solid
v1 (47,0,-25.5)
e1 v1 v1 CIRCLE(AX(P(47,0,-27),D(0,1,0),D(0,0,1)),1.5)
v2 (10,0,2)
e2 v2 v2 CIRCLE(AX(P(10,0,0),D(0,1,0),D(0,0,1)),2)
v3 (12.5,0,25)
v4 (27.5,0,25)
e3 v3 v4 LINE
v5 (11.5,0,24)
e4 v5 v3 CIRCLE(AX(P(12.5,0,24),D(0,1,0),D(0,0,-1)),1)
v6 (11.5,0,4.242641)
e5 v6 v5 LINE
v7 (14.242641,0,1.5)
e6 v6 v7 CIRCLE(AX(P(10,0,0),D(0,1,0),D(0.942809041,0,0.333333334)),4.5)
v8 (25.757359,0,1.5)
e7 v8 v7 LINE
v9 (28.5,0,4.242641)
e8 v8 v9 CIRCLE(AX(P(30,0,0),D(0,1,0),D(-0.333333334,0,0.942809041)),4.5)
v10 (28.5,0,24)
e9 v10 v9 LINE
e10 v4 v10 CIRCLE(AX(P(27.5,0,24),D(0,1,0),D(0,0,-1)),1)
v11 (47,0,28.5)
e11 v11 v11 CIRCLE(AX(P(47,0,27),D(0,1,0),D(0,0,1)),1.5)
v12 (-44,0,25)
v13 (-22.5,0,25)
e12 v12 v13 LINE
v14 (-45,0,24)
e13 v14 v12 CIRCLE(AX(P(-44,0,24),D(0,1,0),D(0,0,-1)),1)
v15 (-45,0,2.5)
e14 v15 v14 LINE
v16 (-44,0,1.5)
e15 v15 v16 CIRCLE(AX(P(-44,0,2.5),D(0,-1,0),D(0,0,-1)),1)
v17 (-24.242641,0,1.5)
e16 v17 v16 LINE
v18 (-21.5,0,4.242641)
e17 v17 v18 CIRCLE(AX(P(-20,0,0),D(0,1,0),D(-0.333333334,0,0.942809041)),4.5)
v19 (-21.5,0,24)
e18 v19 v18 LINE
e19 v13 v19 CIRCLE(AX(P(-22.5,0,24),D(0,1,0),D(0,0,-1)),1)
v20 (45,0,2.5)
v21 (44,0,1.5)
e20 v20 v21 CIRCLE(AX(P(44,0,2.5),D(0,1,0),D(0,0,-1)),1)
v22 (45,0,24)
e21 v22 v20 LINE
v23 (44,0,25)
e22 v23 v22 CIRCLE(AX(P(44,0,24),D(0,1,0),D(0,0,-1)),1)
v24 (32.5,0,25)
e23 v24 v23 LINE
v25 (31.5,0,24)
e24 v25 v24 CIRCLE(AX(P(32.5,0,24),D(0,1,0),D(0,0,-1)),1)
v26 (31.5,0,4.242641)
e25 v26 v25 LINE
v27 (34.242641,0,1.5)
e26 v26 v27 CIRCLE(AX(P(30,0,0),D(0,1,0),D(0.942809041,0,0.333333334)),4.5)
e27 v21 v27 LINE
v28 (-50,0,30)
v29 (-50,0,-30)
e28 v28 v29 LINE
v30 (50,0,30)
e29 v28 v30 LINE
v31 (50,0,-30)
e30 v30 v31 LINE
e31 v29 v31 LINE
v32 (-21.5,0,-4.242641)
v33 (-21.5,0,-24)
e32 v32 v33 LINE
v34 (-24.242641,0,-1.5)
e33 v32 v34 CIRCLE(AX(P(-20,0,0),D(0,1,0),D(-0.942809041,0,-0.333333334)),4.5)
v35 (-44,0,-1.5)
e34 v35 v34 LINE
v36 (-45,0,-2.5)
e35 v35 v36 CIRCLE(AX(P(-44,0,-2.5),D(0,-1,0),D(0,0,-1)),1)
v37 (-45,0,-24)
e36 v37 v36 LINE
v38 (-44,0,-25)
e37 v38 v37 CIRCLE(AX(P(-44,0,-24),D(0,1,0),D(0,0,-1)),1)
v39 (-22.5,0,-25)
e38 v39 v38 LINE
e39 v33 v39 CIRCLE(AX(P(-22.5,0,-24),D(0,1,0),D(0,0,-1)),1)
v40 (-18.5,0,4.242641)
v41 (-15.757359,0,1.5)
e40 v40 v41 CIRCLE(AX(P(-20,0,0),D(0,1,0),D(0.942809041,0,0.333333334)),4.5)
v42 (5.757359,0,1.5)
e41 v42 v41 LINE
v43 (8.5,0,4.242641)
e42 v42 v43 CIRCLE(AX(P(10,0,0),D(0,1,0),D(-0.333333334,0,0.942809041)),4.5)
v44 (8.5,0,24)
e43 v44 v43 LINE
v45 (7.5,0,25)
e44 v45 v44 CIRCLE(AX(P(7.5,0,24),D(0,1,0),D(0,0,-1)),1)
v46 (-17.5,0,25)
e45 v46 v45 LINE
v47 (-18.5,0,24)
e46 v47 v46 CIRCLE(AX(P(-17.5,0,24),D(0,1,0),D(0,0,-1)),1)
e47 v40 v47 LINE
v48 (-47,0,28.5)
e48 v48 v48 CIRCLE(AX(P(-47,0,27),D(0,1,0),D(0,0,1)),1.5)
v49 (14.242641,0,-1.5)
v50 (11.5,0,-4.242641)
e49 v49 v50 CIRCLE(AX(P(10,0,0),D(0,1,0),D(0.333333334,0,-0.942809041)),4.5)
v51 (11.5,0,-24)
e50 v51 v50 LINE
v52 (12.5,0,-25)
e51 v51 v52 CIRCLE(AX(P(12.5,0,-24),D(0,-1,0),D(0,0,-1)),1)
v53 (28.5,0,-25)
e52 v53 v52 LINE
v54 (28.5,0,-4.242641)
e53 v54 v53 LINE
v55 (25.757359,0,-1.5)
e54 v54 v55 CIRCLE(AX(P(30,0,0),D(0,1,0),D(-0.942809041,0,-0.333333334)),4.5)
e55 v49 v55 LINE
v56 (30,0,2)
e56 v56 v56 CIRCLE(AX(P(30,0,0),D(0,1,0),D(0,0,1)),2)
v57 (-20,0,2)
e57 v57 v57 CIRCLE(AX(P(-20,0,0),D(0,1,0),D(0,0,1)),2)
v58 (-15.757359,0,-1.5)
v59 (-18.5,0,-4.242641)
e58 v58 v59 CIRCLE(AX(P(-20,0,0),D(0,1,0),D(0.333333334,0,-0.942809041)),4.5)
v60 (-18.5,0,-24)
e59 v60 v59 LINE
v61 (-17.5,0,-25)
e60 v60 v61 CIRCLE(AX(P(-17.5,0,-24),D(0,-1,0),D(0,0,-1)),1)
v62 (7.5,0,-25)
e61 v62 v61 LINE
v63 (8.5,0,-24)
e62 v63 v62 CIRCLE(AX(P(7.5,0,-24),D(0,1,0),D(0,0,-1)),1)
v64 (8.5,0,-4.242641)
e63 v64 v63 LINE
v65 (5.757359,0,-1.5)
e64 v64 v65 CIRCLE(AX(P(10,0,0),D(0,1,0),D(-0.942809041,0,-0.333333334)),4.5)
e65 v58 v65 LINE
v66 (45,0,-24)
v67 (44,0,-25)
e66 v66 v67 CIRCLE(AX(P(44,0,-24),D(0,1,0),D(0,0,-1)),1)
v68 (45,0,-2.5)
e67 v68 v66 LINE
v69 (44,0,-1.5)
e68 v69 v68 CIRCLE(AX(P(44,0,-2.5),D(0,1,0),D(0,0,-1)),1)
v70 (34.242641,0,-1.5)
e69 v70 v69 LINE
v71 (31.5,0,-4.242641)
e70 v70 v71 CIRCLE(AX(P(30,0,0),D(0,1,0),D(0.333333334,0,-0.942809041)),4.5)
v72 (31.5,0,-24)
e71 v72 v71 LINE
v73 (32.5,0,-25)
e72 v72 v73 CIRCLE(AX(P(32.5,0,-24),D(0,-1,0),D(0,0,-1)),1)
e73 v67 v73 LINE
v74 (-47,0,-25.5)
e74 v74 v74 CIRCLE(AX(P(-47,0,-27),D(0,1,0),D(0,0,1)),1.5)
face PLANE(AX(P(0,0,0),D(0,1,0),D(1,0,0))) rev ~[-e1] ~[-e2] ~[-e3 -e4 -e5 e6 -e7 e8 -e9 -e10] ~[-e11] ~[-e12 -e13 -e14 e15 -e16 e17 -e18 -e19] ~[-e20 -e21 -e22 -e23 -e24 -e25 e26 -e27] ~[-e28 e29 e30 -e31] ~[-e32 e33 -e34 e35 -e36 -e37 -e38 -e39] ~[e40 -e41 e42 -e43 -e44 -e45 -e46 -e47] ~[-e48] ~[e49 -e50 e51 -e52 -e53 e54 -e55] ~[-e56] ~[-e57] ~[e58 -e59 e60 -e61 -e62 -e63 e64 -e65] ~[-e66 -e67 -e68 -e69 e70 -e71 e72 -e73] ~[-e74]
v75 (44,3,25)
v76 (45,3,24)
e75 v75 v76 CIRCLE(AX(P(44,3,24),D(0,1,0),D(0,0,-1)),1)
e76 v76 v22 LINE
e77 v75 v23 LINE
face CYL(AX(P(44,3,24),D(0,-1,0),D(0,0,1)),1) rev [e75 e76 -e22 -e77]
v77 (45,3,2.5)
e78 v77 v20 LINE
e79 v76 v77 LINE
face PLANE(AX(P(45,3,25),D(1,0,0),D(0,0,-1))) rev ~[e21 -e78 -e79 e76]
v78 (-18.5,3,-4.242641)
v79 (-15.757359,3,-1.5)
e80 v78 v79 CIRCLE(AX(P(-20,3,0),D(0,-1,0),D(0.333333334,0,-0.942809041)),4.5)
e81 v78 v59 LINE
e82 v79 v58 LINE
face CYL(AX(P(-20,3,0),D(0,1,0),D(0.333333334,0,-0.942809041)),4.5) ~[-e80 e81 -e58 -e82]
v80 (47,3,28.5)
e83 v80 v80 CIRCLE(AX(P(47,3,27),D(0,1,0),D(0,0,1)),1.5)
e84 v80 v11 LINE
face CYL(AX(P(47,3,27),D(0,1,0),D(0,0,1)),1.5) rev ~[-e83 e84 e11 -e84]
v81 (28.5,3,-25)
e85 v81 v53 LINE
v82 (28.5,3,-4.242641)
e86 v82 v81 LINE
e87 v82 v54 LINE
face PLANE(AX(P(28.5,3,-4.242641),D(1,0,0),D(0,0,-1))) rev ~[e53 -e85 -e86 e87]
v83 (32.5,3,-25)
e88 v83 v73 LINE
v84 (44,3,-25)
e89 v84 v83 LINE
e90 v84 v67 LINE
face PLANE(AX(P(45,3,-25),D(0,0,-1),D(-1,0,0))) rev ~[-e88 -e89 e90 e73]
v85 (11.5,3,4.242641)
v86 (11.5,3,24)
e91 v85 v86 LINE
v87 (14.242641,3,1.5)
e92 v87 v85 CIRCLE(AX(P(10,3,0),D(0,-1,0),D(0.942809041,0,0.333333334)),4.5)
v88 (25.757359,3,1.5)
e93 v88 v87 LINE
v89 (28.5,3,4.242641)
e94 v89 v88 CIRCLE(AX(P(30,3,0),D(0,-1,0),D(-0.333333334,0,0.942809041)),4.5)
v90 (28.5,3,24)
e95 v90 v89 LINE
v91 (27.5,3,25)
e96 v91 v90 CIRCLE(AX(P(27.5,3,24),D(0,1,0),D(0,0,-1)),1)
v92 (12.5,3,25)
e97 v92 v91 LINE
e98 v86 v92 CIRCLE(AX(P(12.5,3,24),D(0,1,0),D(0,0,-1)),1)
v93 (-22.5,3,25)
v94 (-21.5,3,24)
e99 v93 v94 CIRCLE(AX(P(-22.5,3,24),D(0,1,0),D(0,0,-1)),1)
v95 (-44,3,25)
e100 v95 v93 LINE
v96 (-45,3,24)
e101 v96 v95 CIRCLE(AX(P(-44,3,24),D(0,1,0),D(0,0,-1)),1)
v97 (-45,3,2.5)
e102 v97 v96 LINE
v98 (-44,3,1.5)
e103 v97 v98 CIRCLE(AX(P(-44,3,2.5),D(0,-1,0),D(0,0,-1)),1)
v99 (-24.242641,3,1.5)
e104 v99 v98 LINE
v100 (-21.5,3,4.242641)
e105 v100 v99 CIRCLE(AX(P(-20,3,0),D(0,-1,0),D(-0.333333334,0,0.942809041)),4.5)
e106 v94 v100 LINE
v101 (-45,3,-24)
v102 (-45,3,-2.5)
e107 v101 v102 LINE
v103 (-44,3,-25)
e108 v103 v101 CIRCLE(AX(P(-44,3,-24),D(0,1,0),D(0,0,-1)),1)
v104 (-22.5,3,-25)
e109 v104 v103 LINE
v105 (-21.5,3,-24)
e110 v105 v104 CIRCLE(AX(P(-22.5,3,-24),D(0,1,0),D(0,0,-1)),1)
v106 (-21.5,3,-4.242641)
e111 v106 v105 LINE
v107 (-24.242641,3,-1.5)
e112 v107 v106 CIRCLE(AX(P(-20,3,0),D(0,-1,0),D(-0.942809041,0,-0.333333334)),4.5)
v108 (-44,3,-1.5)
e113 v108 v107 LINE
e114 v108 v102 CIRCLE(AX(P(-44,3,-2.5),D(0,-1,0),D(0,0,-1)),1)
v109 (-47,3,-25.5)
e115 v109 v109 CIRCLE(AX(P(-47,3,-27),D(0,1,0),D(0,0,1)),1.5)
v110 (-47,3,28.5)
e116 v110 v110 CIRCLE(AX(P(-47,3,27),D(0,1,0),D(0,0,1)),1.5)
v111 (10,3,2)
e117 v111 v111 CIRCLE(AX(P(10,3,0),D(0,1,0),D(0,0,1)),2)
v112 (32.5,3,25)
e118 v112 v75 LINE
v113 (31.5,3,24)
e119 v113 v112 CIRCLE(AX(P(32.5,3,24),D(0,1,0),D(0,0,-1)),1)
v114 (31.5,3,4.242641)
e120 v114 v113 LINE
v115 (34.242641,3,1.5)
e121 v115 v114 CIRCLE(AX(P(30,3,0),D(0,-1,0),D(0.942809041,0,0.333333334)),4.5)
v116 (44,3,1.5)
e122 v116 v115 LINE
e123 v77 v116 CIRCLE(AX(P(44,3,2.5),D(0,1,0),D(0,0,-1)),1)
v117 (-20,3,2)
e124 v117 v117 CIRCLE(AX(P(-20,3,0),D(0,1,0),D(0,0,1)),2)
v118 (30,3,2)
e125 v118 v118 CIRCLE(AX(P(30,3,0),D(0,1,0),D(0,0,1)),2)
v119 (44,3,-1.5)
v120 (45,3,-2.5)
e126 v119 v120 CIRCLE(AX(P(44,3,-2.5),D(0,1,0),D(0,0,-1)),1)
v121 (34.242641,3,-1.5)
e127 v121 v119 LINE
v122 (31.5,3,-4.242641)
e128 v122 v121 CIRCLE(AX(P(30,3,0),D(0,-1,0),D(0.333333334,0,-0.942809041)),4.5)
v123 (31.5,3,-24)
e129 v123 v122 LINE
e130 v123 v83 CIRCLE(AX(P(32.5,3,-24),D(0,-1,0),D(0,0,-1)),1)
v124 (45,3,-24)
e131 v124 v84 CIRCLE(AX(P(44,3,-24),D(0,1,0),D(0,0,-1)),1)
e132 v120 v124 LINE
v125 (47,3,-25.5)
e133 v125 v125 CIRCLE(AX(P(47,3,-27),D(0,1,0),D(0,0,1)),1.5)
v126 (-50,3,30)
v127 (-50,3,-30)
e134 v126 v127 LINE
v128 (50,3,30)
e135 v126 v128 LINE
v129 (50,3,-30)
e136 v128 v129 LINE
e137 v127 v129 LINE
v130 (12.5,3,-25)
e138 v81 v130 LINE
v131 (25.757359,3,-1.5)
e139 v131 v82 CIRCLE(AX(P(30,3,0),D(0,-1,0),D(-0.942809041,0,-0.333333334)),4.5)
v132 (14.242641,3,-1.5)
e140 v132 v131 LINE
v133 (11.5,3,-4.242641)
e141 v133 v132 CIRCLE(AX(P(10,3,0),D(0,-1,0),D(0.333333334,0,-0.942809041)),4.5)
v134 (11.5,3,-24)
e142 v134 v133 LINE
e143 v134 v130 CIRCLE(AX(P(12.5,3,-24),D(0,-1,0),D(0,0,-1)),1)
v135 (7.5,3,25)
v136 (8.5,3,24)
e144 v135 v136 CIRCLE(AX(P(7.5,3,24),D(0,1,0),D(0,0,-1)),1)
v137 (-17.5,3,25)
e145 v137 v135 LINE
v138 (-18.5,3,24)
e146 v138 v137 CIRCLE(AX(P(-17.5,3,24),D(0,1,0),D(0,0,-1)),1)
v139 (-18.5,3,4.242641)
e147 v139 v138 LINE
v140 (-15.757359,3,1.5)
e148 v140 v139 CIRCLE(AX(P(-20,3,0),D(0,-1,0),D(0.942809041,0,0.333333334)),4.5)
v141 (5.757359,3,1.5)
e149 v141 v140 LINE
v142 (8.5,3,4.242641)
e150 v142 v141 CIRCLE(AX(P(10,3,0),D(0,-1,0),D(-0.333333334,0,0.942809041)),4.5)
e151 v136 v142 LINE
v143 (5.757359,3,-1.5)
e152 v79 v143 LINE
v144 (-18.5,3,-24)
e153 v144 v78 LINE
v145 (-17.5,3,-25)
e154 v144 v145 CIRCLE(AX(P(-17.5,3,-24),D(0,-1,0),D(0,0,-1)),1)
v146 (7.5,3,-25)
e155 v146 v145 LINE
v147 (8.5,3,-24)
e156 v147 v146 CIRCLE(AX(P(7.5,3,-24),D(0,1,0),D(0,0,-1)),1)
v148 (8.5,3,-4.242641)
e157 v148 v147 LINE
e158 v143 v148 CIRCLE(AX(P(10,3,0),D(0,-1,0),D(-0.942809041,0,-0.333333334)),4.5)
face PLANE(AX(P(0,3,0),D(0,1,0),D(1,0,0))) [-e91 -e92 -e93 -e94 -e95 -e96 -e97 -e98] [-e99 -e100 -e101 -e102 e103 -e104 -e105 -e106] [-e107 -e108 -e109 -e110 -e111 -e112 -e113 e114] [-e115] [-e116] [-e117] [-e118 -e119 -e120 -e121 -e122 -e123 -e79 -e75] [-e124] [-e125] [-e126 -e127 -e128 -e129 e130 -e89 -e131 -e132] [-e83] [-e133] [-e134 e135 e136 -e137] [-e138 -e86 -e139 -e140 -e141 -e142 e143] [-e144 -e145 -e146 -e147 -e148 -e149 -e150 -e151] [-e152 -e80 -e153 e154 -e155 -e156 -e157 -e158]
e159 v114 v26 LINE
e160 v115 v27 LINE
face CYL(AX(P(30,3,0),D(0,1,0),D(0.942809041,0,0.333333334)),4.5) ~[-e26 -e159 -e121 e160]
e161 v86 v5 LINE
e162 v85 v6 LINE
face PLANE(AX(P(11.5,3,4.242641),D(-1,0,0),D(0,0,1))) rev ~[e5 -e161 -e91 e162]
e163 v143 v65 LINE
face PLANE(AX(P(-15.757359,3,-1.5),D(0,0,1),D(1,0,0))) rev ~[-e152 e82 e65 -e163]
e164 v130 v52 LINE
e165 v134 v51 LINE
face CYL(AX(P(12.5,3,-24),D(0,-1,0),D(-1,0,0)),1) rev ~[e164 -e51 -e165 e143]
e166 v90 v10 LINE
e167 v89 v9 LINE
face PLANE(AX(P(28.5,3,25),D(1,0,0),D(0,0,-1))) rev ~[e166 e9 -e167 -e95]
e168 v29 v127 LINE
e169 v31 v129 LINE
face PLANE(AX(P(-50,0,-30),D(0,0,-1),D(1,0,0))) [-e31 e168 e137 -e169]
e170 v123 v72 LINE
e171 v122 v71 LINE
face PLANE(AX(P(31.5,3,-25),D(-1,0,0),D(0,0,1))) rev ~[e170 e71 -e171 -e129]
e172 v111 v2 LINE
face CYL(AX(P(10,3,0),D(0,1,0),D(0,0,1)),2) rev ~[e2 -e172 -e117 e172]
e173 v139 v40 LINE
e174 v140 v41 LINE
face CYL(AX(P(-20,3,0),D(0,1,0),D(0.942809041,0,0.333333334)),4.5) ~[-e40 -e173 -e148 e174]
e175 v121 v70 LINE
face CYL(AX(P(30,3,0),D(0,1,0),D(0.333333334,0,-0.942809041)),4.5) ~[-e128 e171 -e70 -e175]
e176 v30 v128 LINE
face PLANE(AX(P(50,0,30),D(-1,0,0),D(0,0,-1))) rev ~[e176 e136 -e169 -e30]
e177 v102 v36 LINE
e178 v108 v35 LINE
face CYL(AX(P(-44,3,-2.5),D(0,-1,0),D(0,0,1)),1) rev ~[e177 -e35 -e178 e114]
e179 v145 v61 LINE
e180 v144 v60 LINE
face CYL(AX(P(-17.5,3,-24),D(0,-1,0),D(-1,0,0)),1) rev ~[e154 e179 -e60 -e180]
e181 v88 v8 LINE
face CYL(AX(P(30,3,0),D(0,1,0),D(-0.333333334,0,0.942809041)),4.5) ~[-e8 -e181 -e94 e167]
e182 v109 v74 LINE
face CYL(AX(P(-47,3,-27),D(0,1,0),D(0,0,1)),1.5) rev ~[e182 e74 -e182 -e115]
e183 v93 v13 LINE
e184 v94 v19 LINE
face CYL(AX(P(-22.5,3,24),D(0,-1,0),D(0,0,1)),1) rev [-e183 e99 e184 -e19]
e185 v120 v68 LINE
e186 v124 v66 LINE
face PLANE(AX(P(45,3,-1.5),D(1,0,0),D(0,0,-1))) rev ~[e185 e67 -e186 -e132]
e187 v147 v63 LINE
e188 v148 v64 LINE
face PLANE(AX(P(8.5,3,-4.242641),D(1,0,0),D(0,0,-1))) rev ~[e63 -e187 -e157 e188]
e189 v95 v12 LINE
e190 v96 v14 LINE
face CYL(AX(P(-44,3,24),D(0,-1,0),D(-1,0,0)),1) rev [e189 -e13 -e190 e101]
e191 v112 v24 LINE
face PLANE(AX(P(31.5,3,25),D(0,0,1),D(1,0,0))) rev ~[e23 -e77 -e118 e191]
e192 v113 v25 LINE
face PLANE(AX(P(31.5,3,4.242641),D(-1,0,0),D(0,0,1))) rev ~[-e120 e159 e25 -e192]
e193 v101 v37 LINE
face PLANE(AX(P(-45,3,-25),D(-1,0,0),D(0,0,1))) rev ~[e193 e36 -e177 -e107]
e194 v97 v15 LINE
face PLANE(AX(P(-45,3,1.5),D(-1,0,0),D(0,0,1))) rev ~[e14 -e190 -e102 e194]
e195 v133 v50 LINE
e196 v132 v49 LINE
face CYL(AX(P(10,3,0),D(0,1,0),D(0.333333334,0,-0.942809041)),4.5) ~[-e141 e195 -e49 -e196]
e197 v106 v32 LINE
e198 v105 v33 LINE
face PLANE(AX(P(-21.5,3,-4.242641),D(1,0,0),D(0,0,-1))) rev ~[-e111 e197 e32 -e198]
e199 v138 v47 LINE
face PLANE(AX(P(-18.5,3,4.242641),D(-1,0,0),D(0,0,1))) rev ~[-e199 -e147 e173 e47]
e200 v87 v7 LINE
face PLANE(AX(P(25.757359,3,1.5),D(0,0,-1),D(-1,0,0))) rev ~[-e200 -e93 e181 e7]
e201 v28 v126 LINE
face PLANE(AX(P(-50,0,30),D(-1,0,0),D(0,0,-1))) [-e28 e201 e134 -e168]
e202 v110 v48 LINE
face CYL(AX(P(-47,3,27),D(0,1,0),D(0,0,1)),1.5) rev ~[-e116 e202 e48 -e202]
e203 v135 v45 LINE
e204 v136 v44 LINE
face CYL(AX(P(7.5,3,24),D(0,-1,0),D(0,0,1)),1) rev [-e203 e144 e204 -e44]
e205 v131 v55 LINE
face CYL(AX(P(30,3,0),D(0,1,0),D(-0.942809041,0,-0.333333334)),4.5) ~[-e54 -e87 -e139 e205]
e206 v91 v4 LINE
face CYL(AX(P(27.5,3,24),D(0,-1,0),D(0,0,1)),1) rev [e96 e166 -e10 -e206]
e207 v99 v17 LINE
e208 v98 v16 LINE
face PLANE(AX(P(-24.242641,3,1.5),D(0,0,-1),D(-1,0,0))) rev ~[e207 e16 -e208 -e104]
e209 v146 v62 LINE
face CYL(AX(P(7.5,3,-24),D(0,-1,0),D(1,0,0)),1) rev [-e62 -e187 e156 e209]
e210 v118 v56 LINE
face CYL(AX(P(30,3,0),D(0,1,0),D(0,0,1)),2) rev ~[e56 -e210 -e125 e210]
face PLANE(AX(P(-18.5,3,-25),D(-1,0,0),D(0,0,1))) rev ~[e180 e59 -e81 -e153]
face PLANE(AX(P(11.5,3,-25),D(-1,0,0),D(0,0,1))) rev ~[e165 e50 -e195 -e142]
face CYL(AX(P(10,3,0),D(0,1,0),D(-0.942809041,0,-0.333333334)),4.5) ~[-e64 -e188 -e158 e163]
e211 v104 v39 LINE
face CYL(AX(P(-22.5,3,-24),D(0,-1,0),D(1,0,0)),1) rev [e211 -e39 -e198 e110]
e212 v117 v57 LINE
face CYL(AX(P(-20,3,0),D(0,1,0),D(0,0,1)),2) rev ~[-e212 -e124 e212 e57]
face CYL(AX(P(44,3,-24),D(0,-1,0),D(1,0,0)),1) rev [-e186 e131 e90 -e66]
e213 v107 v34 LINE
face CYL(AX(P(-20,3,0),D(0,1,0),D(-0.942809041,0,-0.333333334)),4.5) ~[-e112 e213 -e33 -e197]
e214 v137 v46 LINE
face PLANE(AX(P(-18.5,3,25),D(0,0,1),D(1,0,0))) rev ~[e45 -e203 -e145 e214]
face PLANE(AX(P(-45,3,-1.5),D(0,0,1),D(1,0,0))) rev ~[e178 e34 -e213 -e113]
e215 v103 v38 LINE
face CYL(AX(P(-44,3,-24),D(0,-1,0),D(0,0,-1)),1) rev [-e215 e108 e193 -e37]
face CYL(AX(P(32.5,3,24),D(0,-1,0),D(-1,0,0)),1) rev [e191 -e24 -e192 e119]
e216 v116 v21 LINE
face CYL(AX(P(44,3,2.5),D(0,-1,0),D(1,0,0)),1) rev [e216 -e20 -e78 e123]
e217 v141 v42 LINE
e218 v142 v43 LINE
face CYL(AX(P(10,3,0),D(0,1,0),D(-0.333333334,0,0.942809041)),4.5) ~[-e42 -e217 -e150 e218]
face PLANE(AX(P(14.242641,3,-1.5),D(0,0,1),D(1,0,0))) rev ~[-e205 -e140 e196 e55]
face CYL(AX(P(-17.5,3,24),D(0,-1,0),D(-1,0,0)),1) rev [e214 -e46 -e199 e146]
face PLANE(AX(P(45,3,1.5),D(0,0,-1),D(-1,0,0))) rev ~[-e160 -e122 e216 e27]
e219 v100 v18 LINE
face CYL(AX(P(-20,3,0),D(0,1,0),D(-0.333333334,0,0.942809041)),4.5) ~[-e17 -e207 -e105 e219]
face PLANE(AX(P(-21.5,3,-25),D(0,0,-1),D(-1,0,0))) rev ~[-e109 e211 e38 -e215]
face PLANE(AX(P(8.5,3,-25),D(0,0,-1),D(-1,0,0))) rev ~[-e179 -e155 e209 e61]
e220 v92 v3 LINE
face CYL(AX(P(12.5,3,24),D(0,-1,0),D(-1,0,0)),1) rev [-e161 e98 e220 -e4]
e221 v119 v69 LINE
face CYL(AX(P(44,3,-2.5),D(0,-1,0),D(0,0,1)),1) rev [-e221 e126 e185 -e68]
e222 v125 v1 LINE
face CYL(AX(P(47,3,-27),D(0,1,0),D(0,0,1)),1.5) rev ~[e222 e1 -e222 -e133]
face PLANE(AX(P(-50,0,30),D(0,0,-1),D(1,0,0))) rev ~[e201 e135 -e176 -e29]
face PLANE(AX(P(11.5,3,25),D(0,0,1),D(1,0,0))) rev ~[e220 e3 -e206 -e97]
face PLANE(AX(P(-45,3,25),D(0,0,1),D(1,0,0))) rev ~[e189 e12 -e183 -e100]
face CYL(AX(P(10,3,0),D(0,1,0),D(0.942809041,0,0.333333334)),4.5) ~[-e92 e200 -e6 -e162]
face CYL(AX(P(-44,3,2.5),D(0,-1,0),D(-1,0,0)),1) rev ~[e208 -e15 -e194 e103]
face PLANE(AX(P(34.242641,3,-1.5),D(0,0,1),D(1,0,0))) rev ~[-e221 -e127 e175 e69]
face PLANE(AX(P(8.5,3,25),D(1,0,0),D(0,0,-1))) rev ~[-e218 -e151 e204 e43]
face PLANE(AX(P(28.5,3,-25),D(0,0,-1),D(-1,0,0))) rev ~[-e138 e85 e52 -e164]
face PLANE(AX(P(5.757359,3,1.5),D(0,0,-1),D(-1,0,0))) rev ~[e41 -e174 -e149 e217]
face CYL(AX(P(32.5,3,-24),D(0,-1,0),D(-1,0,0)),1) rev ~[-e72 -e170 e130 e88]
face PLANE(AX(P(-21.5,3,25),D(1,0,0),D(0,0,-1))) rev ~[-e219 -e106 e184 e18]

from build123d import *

# Parameters (mm, degrees)
SKETCH1_W           = 100
SKETCH1_H           = 60
BOSS_EXTRUDE1_DEPTH = 3
SKETCH2_R           = 2
SKETCH2_R_2         = 1.5
CUT_EXTRUDE1_DEPTH  = 59.386642308
FILLET1_R           = 1


with BuildPart() as part:
    # Sketch1 → Boss-Extrude1 (new body)
    with BuildSketch(Plane(origin=(0, 0, 0), x_dir=(1, 0, 0), z_dir=(0, 1, 0))):
        Rectangle(SKETCH1_W, SKETCH1_H)
    extrude(amount=BOSS_EXTRUDE1_DEPTH)

    # Sketch2 → Cut-Extrude1 (cut, through all)
    with BuildSketch(Plane(origin=(0, 3, 0), x_dir=(1, 0, 0), z_dir=(0, 1, 0))):
        with BuildLine():
            Line((-45, 1.5), (-24.242640687, 1.5))
            ThreePointArc((-24.242640687, 1.5), (-23.181980515, 3.181980515), (-21.5, 4.242640687))
            Line((-21.5, 4.242640687), (-21.5, 25))
            Line((-21.5, 25), (-45, 25))
            Line((-45, 25), (-45, 1.5))
        make_face()
        with BuildLine():
            Line((-45, -1.5), (-45, -25))
            Line((-45, -25), (-21.5, -25))
            Line((-21.5, -25), (-21.5, -4.242640687))
            ThreePointArc((-21.5, -4.242640687), (-23.181980515, -3.181980515), (-24.242640687, -1.5))
            Line((-24.242640687, -1.5), (-45, -1.5))
        make_face()
        with BuildLine():
            Line((-18.5, 25), (-18.5, 4.242640687))
            ThreePointArc((-18.5, 4.242640687), (-16.818019485, 3.181980515), (-15.757359313, 1.5))
            Line((-15.757359313, 1.5), (5.757359313, 1.5))
            ThreePointArc((5.757359313, 1.5), (6.818019485, 3.181980515), (8.5, 4.242640687))
            Line((8.5, 4.242640687), (8.5, 25))
            Line((8.5, 25), (-18.5, 25))
        make_face()
        with BuildLine():
            ThreePointArc((-15.757359313, -1.5), (-16.818019485, -3.181980515), (-18.5, -4.242640687))
            Line((-18.5, -4.242640687), (-18.5, -25))
            Line((-18.5, -25), (8.5, -25))
            Line((8.5, -25), (8.5, -4.242640687))
            ThreePointArc((8.5, -4.242640687), (6.818019485, -3.181980515), (5.757359313, -1.5))
            Line((5.757359313, -1.5), (-15.757359313, -1.5))
        make_face()
        with BuildLine():
            ThreePointArc((14.242640687, -1.5), (13.181980515, -3.181980515), (11.5, -4.242640687))
            Line((11.5, -4.242640687), (11.5, -25))
            Line((11.5, -25), (28.5, -25))
            Line((28.5, -25), (28.5, -4.242640687))
            ThreePointArc((28.5, -4.242640687), (26.818019485, -3.181980515), (25.757359313, -1.5))
            Line((25.757359313, -1.5), (14.242640687, -1.5))
        make_face()
        with BuildLine():
            Line((11.5, 25), (11.5, 4.242640687))
            ThreePointArc((11.5, 4.242640687), (13.181980515, 3.181980515), (14.242640687, 1.5))
            Line((14.242640687, 1.5), (25.757359313, 1.5))
            ThreePointArc((25.757359313, 1.5), (26.818019485, 3.181980515), (28.5, 4.242640687))
            Line((28.5, 4.242640687), (28.5, 25))
            Line((28.5, 25), (11.5, 25))
        make_face()
        with BuildLine():
            Line((31.5, 25), (31.5, 4.242640687))
            ThreePointArc((31.5, 4.242640687), (33.181980515, 3.181980515), (34.242640687, 1.5))
            Line((34.242640687, 1.5), (45, 1.5))
            Line((45, 1.5), (45, 25))
            Line((45, 25), (31.5, 25))
        make_face()
        with BuildLine():
            ThreePointArc((34.242640687, -1.5), (33.181980515, -3.181980515), (31.5, -4.242640687))
            Line((31.5, -4.242640687), (31.5, -25))
            Line((31.5, -25), (45, -25))
            Line((45, -25), (45, -1.5))
            Line((45, -1.5), (34.242640687, -1.5))
        make_face()
        with Locations(Location((30, 0, 0), (0, 0, 270))):
            Circle(SKETCH2_R)
        with Locations(Location((10, 0, 0), (0, 0, 270))):
            Circle(SKETCH2_R)
        with Locations(Location((-20, 0, 0), (0, 0, 270))):
            Circle(SKETCH2_R)
        with Locations(Location((-47, -27, 0), (0, 0, 270))):
            Circle(SKETCH2_R_2)
        with Locations(Location((-47, 27, 0), (0, 0, 270))):
            Circle(SKETCH2_R_2)
        with Locations(Location((47, -27, 0), (0, 0, 270))):
            Circle(SKETCH2_R_2)
        with Locations(Location((47, 27, 0), (0, 0, 270))):
            Circle(SKETCH2_R_2)
    extrude(amount=-CUT_EXTRUDE1_DEPTH, mode=Mode.SUBTRACT)

    # Fillet1
    fillet1_edges = [part.edges().sort_by_distance(p)[0] for p in [
        (8.5, 1.5, 25),
        (-18.5, 1.5, 25),
        (28.5, 1.5, 25),
        (11.5, 1.5, 25),
        (-45, 1.5, -1.5),
        (-45, 1.5, -25),
        (-21.5, 1.5, -25),
        (11.5, 1.5, -25),
        (31.5, 1.5, -25),
        (45, 1.5, -25),
        (45, 1.5, -1.5),
        (45, 1.5, 1.5),
        (45, 1.5, 25),
        (31.5, 1.5, 25),
        (-21.5, 1.5, 25),
        (-45, 1.5, 25),
        (-45, 1.5, 1.5),
        (-18.5, 1.5, -25),
        (8.5, 1.5, -25),
    ]]
    fillet(fillet1_edges, radius=FILLET1_R)


solid = part.part
